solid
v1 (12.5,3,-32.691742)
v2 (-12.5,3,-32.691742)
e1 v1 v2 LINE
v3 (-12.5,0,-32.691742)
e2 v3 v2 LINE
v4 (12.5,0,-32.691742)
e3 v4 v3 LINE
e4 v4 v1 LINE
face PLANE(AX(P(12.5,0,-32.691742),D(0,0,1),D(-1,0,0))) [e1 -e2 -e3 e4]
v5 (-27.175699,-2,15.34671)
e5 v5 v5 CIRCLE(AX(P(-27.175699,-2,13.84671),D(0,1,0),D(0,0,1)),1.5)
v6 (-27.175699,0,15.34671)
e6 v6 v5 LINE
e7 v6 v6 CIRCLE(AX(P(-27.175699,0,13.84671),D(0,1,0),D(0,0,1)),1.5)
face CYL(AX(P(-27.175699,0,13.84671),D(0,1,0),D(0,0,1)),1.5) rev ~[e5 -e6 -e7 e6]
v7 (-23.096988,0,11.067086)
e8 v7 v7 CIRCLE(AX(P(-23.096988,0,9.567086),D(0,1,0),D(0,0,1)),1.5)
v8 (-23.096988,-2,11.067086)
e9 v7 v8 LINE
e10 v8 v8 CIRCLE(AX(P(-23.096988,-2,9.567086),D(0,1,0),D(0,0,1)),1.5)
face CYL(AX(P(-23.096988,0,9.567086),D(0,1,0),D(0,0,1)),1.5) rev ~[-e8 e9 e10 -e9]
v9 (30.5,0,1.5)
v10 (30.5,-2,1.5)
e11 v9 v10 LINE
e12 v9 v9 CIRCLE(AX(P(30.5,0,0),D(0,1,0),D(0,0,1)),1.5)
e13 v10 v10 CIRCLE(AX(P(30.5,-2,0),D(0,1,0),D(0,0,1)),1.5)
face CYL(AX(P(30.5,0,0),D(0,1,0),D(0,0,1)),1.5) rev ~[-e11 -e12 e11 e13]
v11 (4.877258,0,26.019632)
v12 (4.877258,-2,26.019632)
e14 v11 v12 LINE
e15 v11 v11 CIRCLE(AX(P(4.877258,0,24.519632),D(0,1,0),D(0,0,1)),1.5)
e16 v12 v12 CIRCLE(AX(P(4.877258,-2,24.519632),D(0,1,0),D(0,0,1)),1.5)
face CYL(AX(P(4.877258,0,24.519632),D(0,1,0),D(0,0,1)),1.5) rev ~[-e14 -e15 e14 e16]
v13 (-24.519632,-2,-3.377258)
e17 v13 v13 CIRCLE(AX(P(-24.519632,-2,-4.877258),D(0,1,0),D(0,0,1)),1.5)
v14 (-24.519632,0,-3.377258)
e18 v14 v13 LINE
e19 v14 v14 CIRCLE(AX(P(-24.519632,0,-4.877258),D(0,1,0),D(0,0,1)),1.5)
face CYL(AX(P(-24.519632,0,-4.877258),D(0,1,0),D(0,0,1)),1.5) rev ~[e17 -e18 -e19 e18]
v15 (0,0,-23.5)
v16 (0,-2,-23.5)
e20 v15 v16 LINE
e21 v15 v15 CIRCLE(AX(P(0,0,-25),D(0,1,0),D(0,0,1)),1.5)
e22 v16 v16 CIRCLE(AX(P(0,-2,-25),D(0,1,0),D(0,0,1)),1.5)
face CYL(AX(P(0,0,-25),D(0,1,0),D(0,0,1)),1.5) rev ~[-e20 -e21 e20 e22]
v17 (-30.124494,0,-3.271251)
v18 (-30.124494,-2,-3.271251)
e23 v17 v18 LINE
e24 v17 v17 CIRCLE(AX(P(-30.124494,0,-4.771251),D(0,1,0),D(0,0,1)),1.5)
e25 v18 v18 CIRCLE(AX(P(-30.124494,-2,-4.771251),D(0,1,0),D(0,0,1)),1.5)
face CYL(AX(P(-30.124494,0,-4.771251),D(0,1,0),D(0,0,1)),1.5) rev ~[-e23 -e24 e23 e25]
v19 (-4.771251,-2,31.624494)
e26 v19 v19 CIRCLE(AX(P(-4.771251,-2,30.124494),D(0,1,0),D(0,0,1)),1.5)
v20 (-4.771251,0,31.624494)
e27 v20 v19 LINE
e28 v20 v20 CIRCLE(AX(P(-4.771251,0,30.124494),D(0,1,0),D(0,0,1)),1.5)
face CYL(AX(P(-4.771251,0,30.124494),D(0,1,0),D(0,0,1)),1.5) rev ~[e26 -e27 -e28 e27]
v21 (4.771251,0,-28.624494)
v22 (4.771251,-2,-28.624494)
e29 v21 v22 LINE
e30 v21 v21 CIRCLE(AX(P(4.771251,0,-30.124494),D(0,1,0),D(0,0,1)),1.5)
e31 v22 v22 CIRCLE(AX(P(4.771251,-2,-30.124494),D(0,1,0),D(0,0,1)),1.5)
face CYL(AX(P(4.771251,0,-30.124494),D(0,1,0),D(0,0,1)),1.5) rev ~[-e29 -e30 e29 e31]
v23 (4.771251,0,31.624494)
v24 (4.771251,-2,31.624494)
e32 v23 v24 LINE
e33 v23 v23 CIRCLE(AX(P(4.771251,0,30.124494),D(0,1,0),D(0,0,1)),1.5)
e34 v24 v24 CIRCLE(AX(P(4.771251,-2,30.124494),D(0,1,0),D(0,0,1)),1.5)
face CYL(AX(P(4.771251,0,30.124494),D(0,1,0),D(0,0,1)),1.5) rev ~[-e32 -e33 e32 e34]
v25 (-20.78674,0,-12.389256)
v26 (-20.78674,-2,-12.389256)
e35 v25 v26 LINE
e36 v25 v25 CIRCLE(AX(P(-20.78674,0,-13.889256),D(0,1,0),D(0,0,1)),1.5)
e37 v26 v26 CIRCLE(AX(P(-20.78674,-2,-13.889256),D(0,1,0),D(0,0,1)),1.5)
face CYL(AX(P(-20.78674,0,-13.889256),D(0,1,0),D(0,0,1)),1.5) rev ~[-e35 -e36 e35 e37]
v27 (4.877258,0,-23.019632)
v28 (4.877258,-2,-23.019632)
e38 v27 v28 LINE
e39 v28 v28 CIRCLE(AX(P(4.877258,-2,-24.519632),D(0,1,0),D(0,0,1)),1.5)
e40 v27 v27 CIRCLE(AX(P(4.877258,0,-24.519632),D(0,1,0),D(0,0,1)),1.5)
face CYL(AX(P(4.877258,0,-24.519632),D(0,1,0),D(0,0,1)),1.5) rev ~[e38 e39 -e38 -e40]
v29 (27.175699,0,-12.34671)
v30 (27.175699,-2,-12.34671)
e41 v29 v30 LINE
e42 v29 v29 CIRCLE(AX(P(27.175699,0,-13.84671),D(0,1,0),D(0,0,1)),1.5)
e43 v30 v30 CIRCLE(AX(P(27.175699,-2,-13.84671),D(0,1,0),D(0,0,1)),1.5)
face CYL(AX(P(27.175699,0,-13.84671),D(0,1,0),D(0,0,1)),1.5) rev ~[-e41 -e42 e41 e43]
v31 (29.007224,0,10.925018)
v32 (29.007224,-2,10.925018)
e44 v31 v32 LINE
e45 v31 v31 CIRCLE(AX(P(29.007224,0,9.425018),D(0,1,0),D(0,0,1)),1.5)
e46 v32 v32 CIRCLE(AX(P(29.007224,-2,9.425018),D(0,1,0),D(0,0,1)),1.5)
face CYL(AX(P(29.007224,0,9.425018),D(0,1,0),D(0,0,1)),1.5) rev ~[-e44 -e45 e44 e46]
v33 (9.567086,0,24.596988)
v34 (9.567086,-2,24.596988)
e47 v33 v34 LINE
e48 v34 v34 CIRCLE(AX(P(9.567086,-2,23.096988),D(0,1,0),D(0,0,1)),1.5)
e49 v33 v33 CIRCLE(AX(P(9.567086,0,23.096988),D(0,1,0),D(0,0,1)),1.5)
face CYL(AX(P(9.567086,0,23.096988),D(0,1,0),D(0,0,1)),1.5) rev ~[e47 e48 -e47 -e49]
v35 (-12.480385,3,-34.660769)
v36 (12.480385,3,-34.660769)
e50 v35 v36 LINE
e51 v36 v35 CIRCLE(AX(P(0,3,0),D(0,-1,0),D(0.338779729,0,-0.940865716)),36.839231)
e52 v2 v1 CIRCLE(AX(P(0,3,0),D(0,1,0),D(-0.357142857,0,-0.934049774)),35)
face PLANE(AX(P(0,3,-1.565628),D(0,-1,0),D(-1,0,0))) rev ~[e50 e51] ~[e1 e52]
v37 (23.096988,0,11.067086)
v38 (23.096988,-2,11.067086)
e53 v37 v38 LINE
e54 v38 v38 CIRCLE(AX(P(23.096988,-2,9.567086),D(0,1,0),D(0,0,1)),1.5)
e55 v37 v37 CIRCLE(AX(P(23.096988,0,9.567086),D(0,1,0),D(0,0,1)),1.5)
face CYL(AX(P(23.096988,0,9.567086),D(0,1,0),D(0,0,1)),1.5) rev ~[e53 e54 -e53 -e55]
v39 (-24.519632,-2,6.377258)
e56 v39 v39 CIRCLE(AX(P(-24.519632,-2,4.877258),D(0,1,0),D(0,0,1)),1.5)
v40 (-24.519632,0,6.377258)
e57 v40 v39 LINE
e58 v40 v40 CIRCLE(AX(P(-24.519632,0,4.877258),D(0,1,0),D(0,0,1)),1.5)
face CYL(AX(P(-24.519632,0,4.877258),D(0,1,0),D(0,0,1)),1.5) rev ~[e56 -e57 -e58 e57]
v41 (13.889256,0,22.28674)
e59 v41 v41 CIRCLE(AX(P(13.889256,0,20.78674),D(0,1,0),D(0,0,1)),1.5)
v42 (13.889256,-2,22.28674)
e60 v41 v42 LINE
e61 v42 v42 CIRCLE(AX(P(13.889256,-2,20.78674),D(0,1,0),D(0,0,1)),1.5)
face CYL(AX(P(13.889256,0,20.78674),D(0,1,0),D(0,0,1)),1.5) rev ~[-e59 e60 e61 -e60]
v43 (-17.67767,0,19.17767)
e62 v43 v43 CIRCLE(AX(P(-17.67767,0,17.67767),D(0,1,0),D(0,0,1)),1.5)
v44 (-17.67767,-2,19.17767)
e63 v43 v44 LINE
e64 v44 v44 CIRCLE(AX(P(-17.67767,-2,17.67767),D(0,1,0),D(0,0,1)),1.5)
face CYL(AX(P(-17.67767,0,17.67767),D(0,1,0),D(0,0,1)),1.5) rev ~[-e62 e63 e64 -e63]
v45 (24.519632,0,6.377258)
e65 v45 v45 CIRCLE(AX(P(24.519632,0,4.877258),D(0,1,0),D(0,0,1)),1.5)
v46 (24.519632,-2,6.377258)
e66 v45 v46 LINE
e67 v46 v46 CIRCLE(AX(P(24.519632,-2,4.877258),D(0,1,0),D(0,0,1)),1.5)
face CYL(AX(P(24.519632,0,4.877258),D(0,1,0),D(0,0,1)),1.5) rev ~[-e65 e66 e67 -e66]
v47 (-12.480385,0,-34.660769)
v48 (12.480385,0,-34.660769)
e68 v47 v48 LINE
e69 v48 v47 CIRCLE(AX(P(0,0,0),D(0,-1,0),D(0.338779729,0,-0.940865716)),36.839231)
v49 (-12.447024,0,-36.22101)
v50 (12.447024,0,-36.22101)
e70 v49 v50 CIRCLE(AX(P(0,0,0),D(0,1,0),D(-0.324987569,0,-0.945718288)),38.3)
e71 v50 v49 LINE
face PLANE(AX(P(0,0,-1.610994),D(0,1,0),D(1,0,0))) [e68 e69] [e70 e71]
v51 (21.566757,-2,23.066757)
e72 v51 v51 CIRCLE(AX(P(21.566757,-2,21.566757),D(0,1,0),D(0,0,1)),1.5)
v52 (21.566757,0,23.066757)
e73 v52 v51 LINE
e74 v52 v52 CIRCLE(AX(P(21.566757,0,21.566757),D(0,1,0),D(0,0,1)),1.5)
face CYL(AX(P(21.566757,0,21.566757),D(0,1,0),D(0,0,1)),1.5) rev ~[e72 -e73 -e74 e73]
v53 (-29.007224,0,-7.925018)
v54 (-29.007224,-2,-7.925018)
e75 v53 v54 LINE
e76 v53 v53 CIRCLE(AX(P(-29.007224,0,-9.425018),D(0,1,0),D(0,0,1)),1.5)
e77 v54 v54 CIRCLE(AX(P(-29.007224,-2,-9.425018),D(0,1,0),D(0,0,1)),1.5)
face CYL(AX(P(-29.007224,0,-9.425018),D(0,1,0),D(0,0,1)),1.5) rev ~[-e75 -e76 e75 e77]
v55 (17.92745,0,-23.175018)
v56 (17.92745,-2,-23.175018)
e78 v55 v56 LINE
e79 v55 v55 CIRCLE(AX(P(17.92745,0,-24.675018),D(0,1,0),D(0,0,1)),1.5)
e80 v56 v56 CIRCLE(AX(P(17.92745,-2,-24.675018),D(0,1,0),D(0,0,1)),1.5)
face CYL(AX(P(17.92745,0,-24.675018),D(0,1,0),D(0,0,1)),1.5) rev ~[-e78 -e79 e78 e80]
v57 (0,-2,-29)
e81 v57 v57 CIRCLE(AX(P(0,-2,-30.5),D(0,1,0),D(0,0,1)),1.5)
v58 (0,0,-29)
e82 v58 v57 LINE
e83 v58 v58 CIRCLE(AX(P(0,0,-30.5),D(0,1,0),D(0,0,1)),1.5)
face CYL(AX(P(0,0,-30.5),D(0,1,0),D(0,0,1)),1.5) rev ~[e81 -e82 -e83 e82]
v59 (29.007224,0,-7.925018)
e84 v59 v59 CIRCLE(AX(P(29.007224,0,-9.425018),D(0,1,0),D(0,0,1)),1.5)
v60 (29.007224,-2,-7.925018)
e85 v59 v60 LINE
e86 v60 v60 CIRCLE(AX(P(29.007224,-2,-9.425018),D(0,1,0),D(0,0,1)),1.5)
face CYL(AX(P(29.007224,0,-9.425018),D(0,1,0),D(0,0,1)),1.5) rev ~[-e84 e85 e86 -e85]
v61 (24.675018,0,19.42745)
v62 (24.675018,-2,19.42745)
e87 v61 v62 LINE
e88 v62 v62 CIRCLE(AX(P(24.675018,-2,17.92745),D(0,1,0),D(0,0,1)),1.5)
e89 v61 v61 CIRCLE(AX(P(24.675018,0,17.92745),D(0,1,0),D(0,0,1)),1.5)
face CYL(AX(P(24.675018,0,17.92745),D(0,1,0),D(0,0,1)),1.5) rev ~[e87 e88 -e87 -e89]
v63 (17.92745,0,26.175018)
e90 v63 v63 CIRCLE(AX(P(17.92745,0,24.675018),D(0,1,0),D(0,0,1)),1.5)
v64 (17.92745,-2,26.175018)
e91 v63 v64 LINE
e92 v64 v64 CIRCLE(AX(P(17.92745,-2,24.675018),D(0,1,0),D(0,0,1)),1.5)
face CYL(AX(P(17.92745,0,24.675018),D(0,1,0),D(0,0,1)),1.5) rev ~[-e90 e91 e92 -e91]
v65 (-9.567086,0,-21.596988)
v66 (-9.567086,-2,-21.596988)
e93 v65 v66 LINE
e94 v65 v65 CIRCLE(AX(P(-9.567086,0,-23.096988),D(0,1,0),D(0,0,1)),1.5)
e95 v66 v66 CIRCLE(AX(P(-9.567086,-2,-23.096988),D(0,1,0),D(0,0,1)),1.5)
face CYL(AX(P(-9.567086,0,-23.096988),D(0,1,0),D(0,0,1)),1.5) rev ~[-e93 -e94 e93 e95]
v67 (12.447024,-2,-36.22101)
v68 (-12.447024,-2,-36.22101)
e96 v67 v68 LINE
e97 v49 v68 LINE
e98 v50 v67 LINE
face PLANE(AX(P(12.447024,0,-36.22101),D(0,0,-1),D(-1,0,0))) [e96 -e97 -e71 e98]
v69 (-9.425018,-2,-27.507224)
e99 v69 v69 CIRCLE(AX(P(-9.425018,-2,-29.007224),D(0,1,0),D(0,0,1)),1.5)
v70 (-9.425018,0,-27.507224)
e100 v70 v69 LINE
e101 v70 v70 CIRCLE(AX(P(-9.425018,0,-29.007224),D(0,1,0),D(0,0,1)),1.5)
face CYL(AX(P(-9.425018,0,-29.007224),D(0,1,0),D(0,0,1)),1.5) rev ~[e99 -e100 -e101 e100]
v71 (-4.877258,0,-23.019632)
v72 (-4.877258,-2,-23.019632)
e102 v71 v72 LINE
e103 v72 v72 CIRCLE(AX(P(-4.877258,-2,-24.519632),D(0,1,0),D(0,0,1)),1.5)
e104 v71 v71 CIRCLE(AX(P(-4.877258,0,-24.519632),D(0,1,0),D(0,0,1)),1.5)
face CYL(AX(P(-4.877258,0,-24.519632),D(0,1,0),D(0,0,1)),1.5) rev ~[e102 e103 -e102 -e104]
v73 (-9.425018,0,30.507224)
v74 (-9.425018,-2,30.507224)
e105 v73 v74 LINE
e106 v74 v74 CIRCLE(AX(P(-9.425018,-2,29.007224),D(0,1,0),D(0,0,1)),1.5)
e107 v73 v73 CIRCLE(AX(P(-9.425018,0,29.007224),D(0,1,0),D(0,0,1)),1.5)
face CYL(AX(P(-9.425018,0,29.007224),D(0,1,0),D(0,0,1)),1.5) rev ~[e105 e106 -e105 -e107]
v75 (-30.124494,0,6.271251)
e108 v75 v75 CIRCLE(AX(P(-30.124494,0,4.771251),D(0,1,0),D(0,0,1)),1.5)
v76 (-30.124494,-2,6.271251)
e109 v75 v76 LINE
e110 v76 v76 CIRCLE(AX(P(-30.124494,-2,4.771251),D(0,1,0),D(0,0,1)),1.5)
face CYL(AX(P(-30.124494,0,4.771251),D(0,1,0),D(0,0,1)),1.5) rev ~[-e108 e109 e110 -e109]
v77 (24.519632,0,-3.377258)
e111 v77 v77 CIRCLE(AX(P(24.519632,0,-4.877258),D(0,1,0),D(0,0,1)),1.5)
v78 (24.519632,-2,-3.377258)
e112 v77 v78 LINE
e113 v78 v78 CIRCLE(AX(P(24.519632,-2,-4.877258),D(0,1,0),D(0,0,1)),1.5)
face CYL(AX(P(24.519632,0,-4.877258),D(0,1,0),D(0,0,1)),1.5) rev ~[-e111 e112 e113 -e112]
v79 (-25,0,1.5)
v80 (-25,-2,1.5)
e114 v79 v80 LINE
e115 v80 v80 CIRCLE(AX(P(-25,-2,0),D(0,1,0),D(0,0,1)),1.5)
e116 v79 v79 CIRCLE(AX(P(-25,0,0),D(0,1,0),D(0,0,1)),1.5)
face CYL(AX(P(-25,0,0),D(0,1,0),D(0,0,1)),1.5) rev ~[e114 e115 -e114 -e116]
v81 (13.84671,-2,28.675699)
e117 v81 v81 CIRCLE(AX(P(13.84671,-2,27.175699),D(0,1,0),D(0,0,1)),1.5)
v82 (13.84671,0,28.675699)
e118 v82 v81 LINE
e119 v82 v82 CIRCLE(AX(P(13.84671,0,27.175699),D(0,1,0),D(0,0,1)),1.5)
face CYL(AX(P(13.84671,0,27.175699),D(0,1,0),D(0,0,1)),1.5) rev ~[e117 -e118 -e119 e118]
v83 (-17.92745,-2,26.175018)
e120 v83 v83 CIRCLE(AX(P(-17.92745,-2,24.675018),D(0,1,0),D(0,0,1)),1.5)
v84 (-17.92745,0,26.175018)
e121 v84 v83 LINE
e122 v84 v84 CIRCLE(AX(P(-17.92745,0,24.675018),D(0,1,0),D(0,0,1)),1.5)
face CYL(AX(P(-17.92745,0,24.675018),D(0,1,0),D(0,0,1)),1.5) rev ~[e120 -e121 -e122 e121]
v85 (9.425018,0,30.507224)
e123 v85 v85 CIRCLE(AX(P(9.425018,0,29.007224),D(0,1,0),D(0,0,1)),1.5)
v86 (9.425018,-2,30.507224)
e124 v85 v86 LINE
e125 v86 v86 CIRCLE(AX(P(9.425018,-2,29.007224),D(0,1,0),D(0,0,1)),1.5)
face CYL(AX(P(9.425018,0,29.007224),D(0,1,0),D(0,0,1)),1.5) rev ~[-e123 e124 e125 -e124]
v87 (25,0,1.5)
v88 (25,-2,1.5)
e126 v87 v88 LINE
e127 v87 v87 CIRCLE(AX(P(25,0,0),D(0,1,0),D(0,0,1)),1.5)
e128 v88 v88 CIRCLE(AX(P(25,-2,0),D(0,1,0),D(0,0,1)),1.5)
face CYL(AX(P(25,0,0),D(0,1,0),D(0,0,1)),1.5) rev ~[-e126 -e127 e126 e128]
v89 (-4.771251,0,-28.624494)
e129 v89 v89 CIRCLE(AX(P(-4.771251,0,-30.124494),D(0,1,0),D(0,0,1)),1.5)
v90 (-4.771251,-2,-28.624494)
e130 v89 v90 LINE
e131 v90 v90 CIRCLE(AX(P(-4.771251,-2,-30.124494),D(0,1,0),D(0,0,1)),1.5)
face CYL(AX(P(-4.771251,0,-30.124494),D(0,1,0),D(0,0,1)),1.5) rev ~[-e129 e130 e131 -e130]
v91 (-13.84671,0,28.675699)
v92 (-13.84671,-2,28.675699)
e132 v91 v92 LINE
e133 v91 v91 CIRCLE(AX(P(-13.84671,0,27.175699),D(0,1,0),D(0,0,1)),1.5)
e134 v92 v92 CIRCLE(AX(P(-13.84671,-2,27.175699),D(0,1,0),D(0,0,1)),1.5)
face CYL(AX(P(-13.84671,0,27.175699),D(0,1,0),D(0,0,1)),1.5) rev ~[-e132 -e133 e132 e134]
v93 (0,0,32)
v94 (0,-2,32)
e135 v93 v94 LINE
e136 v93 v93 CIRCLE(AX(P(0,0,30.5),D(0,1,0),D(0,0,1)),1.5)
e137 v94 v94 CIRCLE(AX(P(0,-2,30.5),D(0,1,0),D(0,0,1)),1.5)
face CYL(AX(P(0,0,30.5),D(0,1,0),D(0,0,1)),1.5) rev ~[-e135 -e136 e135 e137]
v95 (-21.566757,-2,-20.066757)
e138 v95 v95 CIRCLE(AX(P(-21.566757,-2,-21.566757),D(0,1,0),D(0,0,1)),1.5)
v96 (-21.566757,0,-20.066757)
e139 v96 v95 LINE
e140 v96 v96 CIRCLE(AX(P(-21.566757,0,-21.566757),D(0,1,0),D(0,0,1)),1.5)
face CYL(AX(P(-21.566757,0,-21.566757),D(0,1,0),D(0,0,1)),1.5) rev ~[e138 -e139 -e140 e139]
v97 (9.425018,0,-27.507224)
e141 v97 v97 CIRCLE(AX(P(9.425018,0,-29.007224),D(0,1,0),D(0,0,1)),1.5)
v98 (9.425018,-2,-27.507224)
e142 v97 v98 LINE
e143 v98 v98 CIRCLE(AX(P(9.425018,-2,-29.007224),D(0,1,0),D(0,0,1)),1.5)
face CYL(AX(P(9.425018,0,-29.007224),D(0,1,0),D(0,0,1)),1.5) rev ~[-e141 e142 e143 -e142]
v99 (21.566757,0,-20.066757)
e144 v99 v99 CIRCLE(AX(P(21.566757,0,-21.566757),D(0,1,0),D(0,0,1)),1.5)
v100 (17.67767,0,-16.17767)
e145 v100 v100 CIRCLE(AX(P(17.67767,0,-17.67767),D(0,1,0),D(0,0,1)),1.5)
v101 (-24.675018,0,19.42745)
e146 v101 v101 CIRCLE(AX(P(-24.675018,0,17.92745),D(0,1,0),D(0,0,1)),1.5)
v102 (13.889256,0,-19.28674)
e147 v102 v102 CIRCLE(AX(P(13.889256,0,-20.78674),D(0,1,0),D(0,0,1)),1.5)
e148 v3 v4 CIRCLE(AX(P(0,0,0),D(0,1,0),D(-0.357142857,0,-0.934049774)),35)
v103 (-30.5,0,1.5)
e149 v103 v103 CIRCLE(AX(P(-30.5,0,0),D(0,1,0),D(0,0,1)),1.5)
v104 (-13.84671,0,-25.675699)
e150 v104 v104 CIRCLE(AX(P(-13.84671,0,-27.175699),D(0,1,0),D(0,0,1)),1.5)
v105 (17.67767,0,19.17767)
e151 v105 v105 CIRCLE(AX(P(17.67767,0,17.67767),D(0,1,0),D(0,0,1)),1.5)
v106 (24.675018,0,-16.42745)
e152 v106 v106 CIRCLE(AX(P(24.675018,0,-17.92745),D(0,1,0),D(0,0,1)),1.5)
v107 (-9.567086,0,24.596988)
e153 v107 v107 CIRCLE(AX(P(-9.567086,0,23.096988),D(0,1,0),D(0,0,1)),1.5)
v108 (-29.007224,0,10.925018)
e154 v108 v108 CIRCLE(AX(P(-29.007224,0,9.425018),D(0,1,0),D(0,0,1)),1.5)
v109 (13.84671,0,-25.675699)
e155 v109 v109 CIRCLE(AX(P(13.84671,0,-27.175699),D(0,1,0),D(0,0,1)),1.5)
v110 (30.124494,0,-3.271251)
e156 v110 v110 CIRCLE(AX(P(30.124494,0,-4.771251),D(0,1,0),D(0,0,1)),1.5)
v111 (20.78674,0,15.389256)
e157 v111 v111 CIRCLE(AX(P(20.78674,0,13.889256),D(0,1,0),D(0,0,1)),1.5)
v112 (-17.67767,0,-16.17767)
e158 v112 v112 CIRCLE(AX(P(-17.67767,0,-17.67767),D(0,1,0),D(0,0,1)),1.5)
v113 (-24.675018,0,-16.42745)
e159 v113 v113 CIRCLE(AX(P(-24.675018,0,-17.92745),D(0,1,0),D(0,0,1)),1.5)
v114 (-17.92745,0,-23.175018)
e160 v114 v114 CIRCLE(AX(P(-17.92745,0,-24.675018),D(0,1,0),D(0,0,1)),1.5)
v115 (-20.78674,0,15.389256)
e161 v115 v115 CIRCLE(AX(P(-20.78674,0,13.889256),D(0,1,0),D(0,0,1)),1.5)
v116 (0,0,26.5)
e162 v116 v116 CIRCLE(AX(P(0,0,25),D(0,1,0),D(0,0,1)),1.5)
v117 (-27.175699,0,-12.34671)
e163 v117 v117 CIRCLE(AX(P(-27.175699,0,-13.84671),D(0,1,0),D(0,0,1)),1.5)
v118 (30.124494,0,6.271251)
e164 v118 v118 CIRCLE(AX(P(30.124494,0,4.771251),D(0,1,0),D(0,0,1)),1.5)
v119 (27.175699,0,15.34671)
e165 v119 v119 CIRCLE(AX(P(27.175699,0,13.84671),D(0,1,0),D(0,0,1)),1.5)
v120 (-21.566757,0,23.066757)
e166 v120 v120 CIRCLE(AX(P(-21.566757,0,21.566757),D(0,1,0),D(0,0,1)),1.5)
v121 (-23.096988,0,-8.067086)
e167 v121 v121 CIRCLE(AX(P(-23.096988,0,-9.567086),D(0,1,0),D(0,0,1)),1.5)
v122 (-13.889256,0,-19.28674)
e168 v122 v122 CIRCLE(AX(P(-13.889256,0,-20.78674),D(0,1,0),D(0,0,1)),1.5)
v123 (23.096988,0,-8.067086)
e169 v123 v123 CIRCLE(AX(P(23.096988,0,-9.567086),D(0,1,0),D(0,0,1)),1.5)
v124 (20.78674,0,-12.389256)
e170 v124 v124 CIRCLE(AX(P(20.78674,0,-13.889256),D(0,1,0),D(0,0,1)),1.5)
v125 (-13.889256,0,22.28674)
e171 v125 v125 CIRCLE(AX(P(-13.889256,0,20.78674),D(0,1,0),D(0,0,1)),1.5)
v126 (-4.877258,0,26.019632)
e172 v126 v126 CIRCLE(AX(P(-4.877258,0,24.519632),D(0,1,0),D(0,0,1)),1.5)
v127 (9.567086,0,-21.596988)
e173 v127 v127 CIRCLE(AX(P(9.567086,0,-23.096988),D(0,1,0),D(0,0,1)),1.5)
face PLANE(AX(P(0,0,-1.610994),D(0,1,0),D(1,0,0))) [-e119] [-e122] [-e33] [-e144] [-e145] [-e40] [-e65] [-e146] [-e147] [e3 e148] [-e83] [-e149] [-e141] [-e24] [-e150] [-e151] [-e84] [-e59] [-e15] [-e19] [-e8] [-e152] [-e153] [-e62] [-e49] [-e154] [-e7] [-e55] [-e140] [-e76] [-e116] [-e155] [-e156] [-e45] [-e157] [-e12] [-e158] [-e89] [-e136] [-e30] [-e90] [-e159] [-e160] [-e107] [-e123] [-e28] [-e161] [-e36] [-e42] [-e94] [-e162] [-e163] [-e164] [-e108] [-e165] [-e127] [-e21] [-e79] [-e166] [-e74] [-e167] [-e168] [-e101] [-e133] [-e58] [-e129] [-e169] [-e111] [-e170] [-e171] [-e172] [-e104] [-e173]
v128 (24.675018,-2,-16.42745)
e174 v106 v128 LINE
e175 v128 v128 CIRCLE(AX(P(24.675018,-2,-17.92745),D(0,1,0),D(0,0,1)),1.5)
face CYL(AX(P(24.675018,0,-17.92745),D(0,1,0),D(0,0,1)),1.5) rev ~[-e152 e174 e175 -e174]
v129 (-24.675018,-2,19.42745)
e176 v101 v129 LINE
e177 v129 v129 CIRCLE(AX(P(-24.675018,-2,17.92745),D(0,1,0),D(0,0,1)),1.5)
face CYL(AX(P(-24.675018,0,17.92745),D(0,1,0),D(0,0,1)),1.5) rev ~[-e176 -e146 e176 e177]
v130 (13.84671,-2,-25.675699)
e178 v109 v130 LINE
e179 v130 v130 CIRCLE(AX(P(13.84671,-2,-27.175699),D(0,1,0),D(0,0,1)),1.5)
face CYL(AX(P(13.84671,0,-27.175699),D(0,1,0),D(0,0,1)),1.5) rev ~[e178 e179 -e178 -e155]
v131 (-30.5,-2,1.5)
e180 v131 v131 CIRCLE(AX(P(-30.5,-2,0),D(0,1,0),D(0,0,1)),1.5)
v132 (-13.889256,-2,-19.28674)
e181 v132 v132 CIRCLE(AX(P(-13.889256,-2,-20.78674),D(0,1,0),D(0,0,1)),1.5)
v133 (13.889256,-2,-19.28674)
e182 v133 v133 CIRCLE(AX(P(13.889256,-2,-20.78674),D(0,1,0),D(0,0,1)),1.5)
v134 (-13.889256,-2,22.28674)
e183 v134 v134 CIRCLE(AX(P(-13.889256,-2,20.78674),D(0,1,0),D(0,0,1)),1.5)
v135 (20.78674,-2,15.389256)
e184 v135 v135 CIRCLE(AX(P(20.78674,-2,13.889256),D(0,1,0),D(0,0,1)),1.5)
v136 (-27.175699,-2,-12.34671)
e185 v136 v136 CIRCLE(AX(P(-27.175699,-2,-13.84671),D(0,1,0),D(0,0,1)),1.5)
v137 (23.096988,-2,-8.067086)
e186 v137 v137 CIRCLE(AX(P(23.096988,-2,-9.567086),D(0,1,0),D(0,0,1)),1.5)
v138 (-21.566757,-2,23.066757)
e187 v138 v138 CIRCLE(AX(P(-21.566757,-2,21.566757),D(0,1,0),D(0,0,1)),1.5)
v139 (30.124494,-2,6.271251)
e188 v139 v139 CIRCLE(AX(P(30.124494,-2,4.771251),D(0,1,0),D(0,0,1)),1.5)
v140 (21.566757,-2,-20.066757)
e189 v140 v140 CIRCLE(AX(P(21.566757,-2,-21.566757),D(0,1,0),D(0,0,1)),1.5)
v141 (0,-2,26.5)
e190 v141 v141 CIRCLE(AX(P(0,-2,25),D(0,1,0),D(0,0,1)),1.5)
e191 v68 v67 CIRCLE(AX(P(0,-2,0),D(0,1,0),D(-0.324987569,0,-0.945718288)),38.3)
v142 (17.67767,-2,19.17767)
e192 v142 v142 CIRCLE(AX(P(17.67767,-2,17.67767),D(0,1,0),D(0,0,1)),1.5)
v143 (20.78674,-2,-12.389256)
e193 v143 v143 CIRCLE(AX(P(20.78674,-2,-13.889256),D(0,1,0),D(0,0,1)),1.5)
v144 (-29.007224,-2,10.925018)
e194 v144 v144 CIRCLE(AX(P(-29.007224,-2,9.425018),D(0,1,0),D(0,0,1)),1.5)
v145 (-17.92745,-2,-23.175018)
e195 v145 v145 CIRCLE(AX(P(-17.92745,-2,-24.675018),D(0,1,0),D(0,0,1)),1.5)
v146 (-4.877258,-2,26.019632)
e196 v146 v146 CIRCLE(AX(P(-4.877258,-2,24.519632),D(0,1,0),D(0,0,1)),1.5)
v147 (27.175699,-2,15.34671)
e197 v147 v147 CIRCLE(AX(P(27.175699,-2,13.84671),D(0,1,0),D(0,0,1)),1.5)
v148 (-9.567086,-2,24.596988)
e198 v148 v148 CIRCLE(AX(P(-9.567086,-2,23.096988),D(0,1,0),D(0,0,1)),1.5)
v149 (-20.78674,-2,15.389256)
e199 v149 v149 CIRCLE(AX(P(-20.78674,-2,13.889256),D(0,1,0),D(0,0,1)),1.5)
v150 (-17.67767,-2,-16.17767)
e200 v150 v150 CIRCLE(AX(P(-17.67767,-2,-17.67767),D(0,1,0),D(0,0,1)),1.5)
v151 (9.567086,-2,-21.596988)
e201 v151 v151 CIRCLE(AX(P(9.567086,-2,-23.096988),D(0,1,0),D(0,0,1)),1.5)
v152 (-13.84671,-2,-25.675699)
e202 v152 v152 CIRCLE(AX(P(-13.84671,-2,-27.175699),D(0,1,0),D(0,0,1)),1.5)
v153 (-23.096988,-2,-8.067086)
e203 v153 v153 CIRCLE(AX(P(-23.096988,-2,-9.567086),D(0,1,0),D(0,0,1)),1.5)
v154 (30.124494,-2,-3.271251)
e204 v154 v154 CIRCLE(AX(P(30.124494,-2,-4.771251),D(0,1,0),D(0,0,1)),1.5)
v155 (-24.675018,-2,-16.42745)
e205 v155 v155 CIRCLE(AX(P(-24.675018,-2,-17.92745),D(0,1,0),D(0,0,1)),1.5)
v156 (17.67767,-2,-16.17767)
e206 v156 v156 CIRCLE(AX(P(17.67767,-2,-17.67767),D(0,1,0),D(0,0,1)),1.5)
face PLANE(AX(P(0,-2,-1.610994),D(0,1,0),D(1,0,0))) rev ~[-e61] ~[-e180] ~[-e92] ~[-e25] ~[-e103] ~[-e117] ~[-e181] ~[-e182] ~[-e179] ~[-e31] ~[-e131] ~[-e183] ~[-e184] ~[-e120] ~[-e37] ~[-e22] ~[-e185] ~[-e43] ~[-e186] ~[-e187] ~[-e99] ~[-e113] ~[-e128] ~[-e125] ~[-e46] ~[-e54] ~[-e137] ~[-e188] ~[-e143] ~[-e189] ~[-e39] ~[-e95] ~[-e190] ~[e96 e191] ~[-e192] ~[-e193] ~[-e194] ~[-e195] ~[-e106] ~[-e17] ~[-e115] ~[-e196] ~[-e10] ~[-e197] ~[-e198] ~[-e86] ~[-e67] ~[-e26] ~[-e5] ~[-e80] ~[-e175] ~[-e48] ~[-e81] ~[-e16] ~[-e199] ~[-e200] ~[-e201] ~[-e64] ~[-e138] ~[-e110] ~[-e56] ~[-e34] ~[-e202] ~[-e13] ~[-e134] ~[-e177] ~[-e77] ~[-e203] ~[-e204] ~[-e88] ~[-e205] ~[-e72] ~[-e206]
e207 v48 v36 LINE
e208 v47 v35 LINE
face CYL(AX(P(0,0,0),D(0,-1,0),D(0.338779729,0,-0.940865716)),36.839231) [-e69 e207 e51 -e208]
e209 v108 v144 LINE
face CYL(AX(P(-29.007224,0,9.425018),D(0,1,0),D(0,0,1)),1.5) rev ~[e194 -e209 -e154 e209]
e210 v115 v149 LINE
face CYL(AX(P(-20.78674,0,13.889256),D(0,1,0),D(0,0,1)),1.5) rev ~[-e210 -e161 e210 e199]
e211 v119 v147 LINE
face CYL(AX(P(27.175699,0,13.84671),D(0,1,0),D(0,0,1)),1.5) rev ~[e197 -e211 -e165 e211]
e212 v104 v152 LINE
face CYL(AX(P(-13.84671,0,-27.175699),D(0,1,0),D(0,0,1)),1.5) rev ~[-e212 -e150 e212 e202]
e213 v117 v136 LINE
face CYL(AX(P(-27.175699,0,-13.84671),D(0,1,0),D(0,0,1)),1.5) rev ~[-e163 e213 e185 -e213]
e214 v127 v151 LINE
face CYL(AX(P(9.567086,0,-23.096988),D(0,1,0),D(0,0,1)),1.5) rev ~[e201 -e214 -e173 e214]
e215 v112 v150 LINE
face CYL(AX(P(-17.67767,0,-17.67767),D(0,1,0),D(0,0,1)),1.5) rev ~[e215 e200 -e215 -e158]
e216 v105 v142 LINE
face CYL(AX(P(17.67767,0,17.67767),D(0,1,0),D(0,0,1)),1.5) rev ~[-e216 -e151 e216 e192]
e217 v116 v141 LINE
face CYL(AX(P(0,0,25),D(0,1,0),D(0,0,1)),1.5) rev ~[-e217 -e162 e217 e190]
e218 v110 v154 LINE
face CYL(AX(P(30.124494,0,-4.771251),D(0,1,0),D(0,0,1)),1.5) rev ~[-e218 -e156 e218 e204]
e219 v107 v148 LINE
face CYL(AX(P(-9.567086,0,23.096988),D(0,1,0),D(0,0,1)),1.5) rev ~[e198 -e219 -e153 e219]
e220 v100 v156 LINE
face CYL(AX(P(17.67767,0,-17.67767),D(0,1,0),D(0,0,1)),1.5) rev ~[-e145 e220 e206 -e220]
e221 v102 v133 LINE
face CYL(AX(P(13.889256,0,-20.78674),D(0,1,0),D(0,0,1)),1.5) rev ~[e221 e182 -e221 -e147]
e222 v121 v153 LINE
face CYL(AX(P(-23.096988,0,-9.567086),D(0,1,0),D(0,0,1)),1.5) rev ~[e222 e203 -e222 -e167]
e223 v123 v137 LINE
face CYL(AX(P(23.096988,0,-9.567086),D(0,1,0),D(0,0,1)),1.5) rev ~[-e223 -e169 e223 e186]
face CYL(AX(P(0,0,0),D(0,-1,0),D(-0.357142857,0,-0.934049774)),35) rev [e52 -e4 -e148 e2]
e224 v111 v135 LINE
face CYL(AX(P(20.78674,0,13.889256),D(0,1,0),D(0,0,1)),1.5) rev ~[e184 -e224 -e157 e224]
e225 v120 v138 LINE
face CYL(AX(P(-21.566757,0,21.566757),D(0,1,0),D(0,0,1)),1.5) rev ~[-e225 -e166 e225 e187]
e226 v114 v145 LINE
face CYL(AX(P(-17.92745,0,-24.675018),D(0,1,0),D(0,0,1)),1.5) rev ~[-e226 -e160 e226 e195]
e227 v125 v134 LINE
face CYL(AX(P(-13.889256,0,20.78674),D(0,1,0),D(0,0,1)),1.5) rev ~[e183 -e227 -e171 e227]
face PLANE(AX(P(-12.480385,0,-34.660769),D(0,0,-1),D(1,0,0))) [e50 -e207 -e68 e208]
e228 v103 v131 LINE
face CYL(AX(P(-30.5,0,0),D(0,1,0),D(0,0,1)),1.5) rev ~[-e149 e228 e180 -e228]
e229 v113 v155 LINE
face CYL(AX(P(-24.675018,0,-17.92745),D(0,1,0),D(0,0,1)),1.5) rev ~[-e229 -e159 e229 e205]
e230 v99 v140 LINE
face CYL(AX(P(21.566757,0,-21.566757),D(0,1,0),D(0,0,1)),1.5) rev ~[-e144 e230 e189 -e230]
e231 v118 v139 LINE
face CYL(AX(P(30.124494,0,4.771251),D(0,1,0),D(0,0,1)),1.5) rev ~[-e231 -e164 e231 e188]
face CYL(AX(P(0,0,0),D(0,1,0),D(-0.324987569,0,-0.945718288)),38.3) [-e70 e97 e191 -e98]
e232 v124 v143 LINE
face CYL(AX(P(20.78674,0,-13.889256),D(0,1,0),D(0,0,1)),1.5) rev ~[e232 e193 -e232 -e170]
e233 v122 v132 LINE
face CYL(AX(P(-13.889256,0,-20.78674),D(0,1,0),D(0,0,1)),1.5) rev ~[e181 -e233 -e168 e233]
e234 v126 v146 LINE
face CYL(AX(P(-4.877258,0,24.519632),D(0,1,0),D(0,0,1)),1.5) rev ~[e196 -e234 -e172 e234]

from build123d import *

# Parameters (mm, degrees)
BOSS_EXTRUDE1_DEPTH = 3
SKETCH1_4_R         = 1.5
BOSS_EXTRUDE3_DEPTH = 2
SKETCH2_OUTSIDE_W   = 100.51
SKETCH2_OUTSIDE_H   = 98.431
CUT_EXTRUDE2_DEPTH  = 10


with BuildPart() as part:
    # Sketch1 → Boss-Extrude1 (new body)
    with BuildSketch(Plane(origin=(0, 0, 0), x_dir=(1, 0, 0), z_dir=(0, 1, 0))):
        with BuildLine():
            Line((-12.480384609, 34.660769231), (12.480384609, 34.660769231))
            ThreePointArc((12.480384609, 34.660769231), (0, -36.839230769), (-12.480384609, 34.660769231))
        make_face()
        with BuildLine():
            ThreePointArc((-12.5, 32.691742077), (0, -35), (12.5, 32.691742077))
            Line((12.5, 32.691742077), (-12.5, 32.691742077))
        make_face(mode=Mode.SUBTRACT)
    extrude(amount=BOSS_EXTRUDE1_DEPTH)

    # Sketch1<4> → Boss-Extrude3 (add)
    with BuildSketch(Plane(origin=(0, 0, 0), x_dir=(1, 0, 0), z_dir=(0, 1, 0))):
        with BuildLine():
            Line((12.480384609, 36.42101042), (-12.480384609, 36.42101042))
            ThreePointArc((-12.480384609, 36.42101042), (0, -38.5), (12.480384609, 36.42101042))
        make_face()
        with Locations(Location((0, 30.5, 0), (0, 0, 270))):
            Circle(SKETCH1_4_R, mode=Mode.SUBTRACT)
        with Locations(Location((4.771251184, 30.124494388, 0), (0, 0, 270))):
            Circle(SKETCH1_4_R, mode=Mode.SUBTRACT)
        with Locations(Location((9.425018328, 29.007223747, 0), (0, 0, 270))):
            Circle(SKETCH1_4_R, mode=Mode.SUBTRACT)
        with Locations(Location((13.846710242, 27.175698988, 0), (0, 0, 270))):
            Circle(SKETCH1_4_R, mode=Mode.SUBTRACT)
        with Locations(Location((17.927450195, 24.675018328, 0), (0, 0, 270))):
            Circle(SKETCH1_4_R, mode=Mode.SUBTRACT)
        with Locations(Location((21.566756826, 21.566756826, 0), (0, 0, 270))):
            Circle(SKETCH1_4_R, mode=Mode.SUBTRACT)
        with Locations(Location((24.675018328, 17.927450195, 0), (0, 0, 270))):
            Circle(SKETCH1_4_R, mode=Mode.SUBTRACT)
        with Locations(Location((27.175698988, 13.846710242, 0), (0, 0, 270))):
            Circle(SKETCH1_4_R, mode=Mode.SUBTRACT)
        with Locations(Location((29.007223747, 9.425018328, 0), (0, 0, 270))):
            Circle(SKETCH1_4_R, mode=Mode.SUBTRACT)
        with Locations(Location((30.124494388, 4.771251184, 0), (0, 0, 270))):
            Circle(SKETCH1_4_R, mode=Mode.SUBTRACT)
        with Locations(Location((30.5, 0, 0), (0, 0, 270))):
            Circle(SKETCH1_4_R, mode=Mode.SUBTRACT)
        with Locations(Location((30.124494388, -4.771251184, 0), (0, 0, 270))):
            Circle(SKETCH1_4_R, mode=Mode.SUBTRACT)
        with Locations(Location((29.007223747, -9.425018328, 0), (0, 0, 270))):
            Circle(SKETCH1_4_R, mode=Mode.SUBTRACT)
        with Locations(Location((27.175698988, -13.846710242, 0), (0, 0, 270))):
            Circle(SKETCH1_4_R, mode=Mode.SUBTRACT)
        with Locations(Location((24.675018328, -17.927450195, 0), (0, 0, 270))):
            Circle(SKETCH1_4_R, mode=Mode.SUBTRACT)
        with Locations(Location((21.566756826, -21.566756826, 0), (0, 0, 270))):
            Circle(SKETCH1_4_R, mode=Mode.SUBTRACT)
        with Locations(Location((17.927450195, -24.675018328, 0), (0, 0, 270))):
            Circle(SKETCH1_4_R, mode=Mode.SUBTRACT)
        with Locations(Location((13.846710242, -27.175698988, 0), (0, 0, 270))):
            Circle(SKETCH1_4_R, mode=Mode.SUBTRACT)
        with Locations(Location((9.425018328, -29.007223747, 0), (0, 0, 270))):
            Circle(SKETCH1_4_R, mode=Mode.SUBTRACT)
        with Locations(Location((4.771251184, -30.124494388, 0), (0, 0, 270))):
            Circle(SKETCH1_4_R, mode=Mode.SUBTRACT)
        with Locations(Location((0, -30.5, 0), (0, 0, 270))):
            Circle(SKETCH1_4_R, mode=Mode.SUBTRACT)
        with Locations(Location((-4.771251184, -30.124494388, 0), (0, 0, 270))):
            Circle(SKETCH1_4_R, mode=Mode.SUBTRACT)
        with Locations(Location((-9.425018328, -29.007223747, 0), (0, 0, 270))):
            Circle(SKETCH1_4_R, mode=Mode.SUBTRACT)
        with Locations(Location((-13.846710242, -27.175698988, 0), (0, 0, 270))):
            Circle(SKETCH1_4_R, mode=Mode.SUBTRACT)
        with Locations(Location((-17.927450195, -24.675018328, 0), (0, 0, 270))):
            Circle(SKETCH1_4_R, mode=Mode.SUBTRACT)
        with Locations(Location((-21.566756826, -21.566756826, 0), (0, 0, 270))):
            Circle(SKETCH1_4_R, mode=Mode.SUBTRACT)
        with Locations(Location((-24.675018328, -17.927450195, 0), (0, 0, 270))):
            Circle(SKETCH1_4_R, mode=Mode.SUBTRACT)
        with Locations(Location((-27.175698988, -13.846710242, 0), (0, 0, 270))):
            Circle(SKETCH1_4_R, mode=Mode.SUBTRACT)
        with Locations(Location((-29.007223747, -9.425018328, 0), (0, 0, 270))):
            Circle(SKETCH1_4_R, mode=Mode.SUBTRACT)
        with Locations(Location((-30.124494388, -4.771251184, 0), (0, 0, 270))):
            Circle(SKETCH1_4_R, mode=Mode.SUBTRACT)
        with Locations(Location((-30.5, 0, 0), (0, 0, 270))):
            Circle(SKETCH1_4_R, mode=Mode.SUBTRACT)
        with Locations(Location((-30.124494388, 4.771251184, 0), (0, 0, 270))):
            Circle(SKETCH1_4_R, mode=Mode.SUBTRACT)
        with Locations(Location((-29.007223747, 9.425018328, 0), (0, 0, 270))):
            Circle(SKETCH1_4_R, mode=Mode.SUBTRACT)
        with Locations(Location((-27.175698988, 13.846710242, 0), (0, 0, 270))):
            Circle(SKETCH1_4_R, mode=Mode.SUBTRACT)
        with Locations(Location((-24.675018328, 17.927450195, 0), (0, 0, 270))):
            Circle(SKETCH1_4_R, mode=Mode.SUBTRACT)
        with Locations(Location((-21.566756826, 21.566756826, 0), (0, 0, 270))):
            Circle(SKETCH1_4_R, mode=Mode.SUBTRACT)
        with Locations(Location((-17.927450195, 24.675018328, 0), (0, 0, 270))):
            Circle(SKETCH1_4_R, mode=Mode.SUBTRACT)
        with Locations(Location((-13.846710242, 27.175698988, 0), (0, 0, 270))):
            Circle(SKETCH1_4_R, mode=Mode.SUBTRACT)
        with Locations(Location((-9.425018328, 29.007223747, 0), (0, 0, 270))):
            Circle(SKETCH1_4_R, mode=Mode.SUBTRACT)
        with Locations(Location((-4.771251184, 30.124494388, 0), (0, 0, 270))):
            Circle(SKETCH1_4_R, mode=Mode.SUBTRACT)
        with Locations(Location((0, 25, 0), (0, 0, 270))):
            Circle(SKETCH1_4_R, mode=Mode.SUBTRACT)
        with Locations(Location((4.87725805, 24.51963201, 0), (0, 0, 270))):
            Circle(SKETCH1_4_R, mode=Mode.SUBTRACT)
        with Locations(Location((9.567085809, 23.096988313, 0), (0, 0, 270))):
            Circle(SKETCH1_4_R, mode=Mode.SUBTRACT)
        with Locations(Location((13.889255825, 20.786740308, 0), (0, 0, 270))):
            Circle(SKETCH1_4_R, mode=Mode.SUBTRACT)
        with Locations(Location((17.67766953, 17.67766953, 0), (0, 0, 270))):
            Circle(SKETCH1_4_R, mode=Mode.SUBTRACT)
        with Locations(Location((20.786740308, 13.889255825, 0), (0, 0, 270))):
            Circle(SKETCH1_4_R, mode=Mode.SUBTRACT)
        with Locations(Location((23.096988313, 9.567085809, 0), (0, 0, 270))):
            Circle(SKETCH1_4_R, mode=Mode.SUBTRACT)
        with Locations(Location((24.51963201, 4.87725805, 0), (0, 0, 270))):
            Circle(SKETCH1_4_R, mode=Mode.SUBTRACT)
        with Locations(Location((25, 0, 0), (0, 0, 270))):
            Circle(SKETCH1_4_R, mode=Mode.SUBTRACT)
        with Locations(Location((24.51963201, -4.87725805, 0), (0, 0, 270))):
            Circle(SKETCH1_4_R, mode=Mode.SUBTRACT)
        with Locations(Location((23.096988313, -9.567085809, 0), (0, 0, 270))):
            Circle(SKETCH1_4_R, mode=Mode.SUBTRACT)
        with Locations(Location((20.786740308, -13.889255825, 0), (0, 0, 270))):
            Circle(SKETCH1_4_R, mode=Mode.SUBTRACT)
        with Locations(Location((17.67766953, -17.67766953, 0), (0, 0, 270))):
            Circle(SKETCH1_4_R, mode=Mode.SUBTRACT)
        with Locations(Location((13.889255825, -20.786740308, 0), (0, 0, 270))):
            Circle(SKETCH1_4_R, mode=Mode.SUBTRACT)
        with Locations(Location((9.567085809, -23.096988313, 0), (0, 0, 270))):
            Circle(SKETCH1_4_R, mode=Mode.SUBTRACT)
        with Locations(Location((4.87725805, -24.51963201, 0), (0, 0, 270))):
            Circle(SKETCH1_4_R, mode=Mode.SUBTRACT)
        with Locations(Location((0, -25, 0), (0, 0, 270))):
            Circle(SKETCH1_4_R, mode=Mode.SUBTRACT)
        with Locations(Location((-4.87725805, -24.51963201, 0), (0, 0, 270))):
            Circle(SKETCH1_4_R, mode=Mode.SUBTRACT)
        with Locations(Location((-9.567085809, -23.096988313, 0), (0, 0, 270))):
            Circle(SKETCH1_4_R, mode=Mode.SUBTRACT)
        with Locations(Location((-13.889255825, -20.786740308, 0), (0, 0, 270))):
            Circle(SKETCH1_4_R, mode=Mode.SUBTRACT)
        with Locations(Location((-17.67766953, -17.67766953, 0), (0, 0, 270))):
            Circle(SKETCH1_4_R, mode=Mode.SUBTRACT)
        with Locations(Location((-20.786740308, -13.889255825, 0), (0, 0, 270))):
            Circle(SKETCH1_4_R, mode=Mode.SUBTRACT)
        with Locations(Location((-23.096988313, -9.567085809, 0), (0, 0, 270))):
            Circle(SKETCH1_4_R, mode=Mode.SUBTRACT)
        with Locations(Location((-24.51963201, -4.87725805, 0), (0, 0, 270))):
            Circle(SKETCH1_4_R, mode=Mode.SUBTRACT)
        with Locations(Location((-25, 0, 0), (0, 0, 270))):
            Circle(SKETCH1_4_R, mode=Mode.SUBTRACT)
        with Locations(Location((-24.51963201, 4.87725805, 0), (0, 0, 270))):
            Circle(SKETCH1_4_R, mode=Mode.SUBTRACT)
        with Locations(Location((-23.096988313, 9.567085809, 0), (0, 0, 270))):
            Circle(SKETCH1_4_R, mode=Mode.SUBTRACT)
        with Locations(Location((-20.786740308, 13.889255825, 0), (0, 0, 270))):
            Circle(SKETCH1_4_R, mode=Mode.SUBTRACT)
        with Locations(Location((-17.67766953, 17.67766953, 0), (0, 0, 270))):
            Circle(SKETCH1_4_R, mode=Mode.SUBTRACT)
        with Locations(Location((-13.889255825, 20.786740308, 0), (0, 0, 270))):
            Circle(SKETCH1_4_R, mode=Mode.SUBTRACT)
        with Locations(Location((-9.567085809, 23.096988313, 0), (0, 0, 270))):
            Circle(SKETCH1_4_R, mode=Mode.SUBTRACT)
        with Locations(Location((-4.87725805, 24.51963201, 0), (0, 0, 270))):
            Circle(SKETCH1_4_R, mode=Mode.SUBTRACT)
    extrude(amount=-BOSS_EXTRUDE3_DEPTH)

    # Sketch2 outside → Cut-Extrude2 (cut)
    with BuildSketch(Plane(origin=(0, 0, 0), x_dir=(1, 0, 0), z_dir=(0, 1, 0))):
        with Locations((0, -1.0395)):
            Rectangle(SKETCH2_OUTSIDE_W, SKETCH2_OUTSIDE_H)
        with BuildLine():
            Line((12.447023908, 36.22101042), (-12.447023908, 36.22101042))
            ThreePointArc((-12.447023908, 36.22101042), (0, -38.3), (12.447023908, 36.22101042))
        make_face(mode=Mode.SUBTRACT)
    extrude(amount=-CUT_EXTRUDE2_DEPTH, mode=Mode.SUBTRACT)


solid = part.part
